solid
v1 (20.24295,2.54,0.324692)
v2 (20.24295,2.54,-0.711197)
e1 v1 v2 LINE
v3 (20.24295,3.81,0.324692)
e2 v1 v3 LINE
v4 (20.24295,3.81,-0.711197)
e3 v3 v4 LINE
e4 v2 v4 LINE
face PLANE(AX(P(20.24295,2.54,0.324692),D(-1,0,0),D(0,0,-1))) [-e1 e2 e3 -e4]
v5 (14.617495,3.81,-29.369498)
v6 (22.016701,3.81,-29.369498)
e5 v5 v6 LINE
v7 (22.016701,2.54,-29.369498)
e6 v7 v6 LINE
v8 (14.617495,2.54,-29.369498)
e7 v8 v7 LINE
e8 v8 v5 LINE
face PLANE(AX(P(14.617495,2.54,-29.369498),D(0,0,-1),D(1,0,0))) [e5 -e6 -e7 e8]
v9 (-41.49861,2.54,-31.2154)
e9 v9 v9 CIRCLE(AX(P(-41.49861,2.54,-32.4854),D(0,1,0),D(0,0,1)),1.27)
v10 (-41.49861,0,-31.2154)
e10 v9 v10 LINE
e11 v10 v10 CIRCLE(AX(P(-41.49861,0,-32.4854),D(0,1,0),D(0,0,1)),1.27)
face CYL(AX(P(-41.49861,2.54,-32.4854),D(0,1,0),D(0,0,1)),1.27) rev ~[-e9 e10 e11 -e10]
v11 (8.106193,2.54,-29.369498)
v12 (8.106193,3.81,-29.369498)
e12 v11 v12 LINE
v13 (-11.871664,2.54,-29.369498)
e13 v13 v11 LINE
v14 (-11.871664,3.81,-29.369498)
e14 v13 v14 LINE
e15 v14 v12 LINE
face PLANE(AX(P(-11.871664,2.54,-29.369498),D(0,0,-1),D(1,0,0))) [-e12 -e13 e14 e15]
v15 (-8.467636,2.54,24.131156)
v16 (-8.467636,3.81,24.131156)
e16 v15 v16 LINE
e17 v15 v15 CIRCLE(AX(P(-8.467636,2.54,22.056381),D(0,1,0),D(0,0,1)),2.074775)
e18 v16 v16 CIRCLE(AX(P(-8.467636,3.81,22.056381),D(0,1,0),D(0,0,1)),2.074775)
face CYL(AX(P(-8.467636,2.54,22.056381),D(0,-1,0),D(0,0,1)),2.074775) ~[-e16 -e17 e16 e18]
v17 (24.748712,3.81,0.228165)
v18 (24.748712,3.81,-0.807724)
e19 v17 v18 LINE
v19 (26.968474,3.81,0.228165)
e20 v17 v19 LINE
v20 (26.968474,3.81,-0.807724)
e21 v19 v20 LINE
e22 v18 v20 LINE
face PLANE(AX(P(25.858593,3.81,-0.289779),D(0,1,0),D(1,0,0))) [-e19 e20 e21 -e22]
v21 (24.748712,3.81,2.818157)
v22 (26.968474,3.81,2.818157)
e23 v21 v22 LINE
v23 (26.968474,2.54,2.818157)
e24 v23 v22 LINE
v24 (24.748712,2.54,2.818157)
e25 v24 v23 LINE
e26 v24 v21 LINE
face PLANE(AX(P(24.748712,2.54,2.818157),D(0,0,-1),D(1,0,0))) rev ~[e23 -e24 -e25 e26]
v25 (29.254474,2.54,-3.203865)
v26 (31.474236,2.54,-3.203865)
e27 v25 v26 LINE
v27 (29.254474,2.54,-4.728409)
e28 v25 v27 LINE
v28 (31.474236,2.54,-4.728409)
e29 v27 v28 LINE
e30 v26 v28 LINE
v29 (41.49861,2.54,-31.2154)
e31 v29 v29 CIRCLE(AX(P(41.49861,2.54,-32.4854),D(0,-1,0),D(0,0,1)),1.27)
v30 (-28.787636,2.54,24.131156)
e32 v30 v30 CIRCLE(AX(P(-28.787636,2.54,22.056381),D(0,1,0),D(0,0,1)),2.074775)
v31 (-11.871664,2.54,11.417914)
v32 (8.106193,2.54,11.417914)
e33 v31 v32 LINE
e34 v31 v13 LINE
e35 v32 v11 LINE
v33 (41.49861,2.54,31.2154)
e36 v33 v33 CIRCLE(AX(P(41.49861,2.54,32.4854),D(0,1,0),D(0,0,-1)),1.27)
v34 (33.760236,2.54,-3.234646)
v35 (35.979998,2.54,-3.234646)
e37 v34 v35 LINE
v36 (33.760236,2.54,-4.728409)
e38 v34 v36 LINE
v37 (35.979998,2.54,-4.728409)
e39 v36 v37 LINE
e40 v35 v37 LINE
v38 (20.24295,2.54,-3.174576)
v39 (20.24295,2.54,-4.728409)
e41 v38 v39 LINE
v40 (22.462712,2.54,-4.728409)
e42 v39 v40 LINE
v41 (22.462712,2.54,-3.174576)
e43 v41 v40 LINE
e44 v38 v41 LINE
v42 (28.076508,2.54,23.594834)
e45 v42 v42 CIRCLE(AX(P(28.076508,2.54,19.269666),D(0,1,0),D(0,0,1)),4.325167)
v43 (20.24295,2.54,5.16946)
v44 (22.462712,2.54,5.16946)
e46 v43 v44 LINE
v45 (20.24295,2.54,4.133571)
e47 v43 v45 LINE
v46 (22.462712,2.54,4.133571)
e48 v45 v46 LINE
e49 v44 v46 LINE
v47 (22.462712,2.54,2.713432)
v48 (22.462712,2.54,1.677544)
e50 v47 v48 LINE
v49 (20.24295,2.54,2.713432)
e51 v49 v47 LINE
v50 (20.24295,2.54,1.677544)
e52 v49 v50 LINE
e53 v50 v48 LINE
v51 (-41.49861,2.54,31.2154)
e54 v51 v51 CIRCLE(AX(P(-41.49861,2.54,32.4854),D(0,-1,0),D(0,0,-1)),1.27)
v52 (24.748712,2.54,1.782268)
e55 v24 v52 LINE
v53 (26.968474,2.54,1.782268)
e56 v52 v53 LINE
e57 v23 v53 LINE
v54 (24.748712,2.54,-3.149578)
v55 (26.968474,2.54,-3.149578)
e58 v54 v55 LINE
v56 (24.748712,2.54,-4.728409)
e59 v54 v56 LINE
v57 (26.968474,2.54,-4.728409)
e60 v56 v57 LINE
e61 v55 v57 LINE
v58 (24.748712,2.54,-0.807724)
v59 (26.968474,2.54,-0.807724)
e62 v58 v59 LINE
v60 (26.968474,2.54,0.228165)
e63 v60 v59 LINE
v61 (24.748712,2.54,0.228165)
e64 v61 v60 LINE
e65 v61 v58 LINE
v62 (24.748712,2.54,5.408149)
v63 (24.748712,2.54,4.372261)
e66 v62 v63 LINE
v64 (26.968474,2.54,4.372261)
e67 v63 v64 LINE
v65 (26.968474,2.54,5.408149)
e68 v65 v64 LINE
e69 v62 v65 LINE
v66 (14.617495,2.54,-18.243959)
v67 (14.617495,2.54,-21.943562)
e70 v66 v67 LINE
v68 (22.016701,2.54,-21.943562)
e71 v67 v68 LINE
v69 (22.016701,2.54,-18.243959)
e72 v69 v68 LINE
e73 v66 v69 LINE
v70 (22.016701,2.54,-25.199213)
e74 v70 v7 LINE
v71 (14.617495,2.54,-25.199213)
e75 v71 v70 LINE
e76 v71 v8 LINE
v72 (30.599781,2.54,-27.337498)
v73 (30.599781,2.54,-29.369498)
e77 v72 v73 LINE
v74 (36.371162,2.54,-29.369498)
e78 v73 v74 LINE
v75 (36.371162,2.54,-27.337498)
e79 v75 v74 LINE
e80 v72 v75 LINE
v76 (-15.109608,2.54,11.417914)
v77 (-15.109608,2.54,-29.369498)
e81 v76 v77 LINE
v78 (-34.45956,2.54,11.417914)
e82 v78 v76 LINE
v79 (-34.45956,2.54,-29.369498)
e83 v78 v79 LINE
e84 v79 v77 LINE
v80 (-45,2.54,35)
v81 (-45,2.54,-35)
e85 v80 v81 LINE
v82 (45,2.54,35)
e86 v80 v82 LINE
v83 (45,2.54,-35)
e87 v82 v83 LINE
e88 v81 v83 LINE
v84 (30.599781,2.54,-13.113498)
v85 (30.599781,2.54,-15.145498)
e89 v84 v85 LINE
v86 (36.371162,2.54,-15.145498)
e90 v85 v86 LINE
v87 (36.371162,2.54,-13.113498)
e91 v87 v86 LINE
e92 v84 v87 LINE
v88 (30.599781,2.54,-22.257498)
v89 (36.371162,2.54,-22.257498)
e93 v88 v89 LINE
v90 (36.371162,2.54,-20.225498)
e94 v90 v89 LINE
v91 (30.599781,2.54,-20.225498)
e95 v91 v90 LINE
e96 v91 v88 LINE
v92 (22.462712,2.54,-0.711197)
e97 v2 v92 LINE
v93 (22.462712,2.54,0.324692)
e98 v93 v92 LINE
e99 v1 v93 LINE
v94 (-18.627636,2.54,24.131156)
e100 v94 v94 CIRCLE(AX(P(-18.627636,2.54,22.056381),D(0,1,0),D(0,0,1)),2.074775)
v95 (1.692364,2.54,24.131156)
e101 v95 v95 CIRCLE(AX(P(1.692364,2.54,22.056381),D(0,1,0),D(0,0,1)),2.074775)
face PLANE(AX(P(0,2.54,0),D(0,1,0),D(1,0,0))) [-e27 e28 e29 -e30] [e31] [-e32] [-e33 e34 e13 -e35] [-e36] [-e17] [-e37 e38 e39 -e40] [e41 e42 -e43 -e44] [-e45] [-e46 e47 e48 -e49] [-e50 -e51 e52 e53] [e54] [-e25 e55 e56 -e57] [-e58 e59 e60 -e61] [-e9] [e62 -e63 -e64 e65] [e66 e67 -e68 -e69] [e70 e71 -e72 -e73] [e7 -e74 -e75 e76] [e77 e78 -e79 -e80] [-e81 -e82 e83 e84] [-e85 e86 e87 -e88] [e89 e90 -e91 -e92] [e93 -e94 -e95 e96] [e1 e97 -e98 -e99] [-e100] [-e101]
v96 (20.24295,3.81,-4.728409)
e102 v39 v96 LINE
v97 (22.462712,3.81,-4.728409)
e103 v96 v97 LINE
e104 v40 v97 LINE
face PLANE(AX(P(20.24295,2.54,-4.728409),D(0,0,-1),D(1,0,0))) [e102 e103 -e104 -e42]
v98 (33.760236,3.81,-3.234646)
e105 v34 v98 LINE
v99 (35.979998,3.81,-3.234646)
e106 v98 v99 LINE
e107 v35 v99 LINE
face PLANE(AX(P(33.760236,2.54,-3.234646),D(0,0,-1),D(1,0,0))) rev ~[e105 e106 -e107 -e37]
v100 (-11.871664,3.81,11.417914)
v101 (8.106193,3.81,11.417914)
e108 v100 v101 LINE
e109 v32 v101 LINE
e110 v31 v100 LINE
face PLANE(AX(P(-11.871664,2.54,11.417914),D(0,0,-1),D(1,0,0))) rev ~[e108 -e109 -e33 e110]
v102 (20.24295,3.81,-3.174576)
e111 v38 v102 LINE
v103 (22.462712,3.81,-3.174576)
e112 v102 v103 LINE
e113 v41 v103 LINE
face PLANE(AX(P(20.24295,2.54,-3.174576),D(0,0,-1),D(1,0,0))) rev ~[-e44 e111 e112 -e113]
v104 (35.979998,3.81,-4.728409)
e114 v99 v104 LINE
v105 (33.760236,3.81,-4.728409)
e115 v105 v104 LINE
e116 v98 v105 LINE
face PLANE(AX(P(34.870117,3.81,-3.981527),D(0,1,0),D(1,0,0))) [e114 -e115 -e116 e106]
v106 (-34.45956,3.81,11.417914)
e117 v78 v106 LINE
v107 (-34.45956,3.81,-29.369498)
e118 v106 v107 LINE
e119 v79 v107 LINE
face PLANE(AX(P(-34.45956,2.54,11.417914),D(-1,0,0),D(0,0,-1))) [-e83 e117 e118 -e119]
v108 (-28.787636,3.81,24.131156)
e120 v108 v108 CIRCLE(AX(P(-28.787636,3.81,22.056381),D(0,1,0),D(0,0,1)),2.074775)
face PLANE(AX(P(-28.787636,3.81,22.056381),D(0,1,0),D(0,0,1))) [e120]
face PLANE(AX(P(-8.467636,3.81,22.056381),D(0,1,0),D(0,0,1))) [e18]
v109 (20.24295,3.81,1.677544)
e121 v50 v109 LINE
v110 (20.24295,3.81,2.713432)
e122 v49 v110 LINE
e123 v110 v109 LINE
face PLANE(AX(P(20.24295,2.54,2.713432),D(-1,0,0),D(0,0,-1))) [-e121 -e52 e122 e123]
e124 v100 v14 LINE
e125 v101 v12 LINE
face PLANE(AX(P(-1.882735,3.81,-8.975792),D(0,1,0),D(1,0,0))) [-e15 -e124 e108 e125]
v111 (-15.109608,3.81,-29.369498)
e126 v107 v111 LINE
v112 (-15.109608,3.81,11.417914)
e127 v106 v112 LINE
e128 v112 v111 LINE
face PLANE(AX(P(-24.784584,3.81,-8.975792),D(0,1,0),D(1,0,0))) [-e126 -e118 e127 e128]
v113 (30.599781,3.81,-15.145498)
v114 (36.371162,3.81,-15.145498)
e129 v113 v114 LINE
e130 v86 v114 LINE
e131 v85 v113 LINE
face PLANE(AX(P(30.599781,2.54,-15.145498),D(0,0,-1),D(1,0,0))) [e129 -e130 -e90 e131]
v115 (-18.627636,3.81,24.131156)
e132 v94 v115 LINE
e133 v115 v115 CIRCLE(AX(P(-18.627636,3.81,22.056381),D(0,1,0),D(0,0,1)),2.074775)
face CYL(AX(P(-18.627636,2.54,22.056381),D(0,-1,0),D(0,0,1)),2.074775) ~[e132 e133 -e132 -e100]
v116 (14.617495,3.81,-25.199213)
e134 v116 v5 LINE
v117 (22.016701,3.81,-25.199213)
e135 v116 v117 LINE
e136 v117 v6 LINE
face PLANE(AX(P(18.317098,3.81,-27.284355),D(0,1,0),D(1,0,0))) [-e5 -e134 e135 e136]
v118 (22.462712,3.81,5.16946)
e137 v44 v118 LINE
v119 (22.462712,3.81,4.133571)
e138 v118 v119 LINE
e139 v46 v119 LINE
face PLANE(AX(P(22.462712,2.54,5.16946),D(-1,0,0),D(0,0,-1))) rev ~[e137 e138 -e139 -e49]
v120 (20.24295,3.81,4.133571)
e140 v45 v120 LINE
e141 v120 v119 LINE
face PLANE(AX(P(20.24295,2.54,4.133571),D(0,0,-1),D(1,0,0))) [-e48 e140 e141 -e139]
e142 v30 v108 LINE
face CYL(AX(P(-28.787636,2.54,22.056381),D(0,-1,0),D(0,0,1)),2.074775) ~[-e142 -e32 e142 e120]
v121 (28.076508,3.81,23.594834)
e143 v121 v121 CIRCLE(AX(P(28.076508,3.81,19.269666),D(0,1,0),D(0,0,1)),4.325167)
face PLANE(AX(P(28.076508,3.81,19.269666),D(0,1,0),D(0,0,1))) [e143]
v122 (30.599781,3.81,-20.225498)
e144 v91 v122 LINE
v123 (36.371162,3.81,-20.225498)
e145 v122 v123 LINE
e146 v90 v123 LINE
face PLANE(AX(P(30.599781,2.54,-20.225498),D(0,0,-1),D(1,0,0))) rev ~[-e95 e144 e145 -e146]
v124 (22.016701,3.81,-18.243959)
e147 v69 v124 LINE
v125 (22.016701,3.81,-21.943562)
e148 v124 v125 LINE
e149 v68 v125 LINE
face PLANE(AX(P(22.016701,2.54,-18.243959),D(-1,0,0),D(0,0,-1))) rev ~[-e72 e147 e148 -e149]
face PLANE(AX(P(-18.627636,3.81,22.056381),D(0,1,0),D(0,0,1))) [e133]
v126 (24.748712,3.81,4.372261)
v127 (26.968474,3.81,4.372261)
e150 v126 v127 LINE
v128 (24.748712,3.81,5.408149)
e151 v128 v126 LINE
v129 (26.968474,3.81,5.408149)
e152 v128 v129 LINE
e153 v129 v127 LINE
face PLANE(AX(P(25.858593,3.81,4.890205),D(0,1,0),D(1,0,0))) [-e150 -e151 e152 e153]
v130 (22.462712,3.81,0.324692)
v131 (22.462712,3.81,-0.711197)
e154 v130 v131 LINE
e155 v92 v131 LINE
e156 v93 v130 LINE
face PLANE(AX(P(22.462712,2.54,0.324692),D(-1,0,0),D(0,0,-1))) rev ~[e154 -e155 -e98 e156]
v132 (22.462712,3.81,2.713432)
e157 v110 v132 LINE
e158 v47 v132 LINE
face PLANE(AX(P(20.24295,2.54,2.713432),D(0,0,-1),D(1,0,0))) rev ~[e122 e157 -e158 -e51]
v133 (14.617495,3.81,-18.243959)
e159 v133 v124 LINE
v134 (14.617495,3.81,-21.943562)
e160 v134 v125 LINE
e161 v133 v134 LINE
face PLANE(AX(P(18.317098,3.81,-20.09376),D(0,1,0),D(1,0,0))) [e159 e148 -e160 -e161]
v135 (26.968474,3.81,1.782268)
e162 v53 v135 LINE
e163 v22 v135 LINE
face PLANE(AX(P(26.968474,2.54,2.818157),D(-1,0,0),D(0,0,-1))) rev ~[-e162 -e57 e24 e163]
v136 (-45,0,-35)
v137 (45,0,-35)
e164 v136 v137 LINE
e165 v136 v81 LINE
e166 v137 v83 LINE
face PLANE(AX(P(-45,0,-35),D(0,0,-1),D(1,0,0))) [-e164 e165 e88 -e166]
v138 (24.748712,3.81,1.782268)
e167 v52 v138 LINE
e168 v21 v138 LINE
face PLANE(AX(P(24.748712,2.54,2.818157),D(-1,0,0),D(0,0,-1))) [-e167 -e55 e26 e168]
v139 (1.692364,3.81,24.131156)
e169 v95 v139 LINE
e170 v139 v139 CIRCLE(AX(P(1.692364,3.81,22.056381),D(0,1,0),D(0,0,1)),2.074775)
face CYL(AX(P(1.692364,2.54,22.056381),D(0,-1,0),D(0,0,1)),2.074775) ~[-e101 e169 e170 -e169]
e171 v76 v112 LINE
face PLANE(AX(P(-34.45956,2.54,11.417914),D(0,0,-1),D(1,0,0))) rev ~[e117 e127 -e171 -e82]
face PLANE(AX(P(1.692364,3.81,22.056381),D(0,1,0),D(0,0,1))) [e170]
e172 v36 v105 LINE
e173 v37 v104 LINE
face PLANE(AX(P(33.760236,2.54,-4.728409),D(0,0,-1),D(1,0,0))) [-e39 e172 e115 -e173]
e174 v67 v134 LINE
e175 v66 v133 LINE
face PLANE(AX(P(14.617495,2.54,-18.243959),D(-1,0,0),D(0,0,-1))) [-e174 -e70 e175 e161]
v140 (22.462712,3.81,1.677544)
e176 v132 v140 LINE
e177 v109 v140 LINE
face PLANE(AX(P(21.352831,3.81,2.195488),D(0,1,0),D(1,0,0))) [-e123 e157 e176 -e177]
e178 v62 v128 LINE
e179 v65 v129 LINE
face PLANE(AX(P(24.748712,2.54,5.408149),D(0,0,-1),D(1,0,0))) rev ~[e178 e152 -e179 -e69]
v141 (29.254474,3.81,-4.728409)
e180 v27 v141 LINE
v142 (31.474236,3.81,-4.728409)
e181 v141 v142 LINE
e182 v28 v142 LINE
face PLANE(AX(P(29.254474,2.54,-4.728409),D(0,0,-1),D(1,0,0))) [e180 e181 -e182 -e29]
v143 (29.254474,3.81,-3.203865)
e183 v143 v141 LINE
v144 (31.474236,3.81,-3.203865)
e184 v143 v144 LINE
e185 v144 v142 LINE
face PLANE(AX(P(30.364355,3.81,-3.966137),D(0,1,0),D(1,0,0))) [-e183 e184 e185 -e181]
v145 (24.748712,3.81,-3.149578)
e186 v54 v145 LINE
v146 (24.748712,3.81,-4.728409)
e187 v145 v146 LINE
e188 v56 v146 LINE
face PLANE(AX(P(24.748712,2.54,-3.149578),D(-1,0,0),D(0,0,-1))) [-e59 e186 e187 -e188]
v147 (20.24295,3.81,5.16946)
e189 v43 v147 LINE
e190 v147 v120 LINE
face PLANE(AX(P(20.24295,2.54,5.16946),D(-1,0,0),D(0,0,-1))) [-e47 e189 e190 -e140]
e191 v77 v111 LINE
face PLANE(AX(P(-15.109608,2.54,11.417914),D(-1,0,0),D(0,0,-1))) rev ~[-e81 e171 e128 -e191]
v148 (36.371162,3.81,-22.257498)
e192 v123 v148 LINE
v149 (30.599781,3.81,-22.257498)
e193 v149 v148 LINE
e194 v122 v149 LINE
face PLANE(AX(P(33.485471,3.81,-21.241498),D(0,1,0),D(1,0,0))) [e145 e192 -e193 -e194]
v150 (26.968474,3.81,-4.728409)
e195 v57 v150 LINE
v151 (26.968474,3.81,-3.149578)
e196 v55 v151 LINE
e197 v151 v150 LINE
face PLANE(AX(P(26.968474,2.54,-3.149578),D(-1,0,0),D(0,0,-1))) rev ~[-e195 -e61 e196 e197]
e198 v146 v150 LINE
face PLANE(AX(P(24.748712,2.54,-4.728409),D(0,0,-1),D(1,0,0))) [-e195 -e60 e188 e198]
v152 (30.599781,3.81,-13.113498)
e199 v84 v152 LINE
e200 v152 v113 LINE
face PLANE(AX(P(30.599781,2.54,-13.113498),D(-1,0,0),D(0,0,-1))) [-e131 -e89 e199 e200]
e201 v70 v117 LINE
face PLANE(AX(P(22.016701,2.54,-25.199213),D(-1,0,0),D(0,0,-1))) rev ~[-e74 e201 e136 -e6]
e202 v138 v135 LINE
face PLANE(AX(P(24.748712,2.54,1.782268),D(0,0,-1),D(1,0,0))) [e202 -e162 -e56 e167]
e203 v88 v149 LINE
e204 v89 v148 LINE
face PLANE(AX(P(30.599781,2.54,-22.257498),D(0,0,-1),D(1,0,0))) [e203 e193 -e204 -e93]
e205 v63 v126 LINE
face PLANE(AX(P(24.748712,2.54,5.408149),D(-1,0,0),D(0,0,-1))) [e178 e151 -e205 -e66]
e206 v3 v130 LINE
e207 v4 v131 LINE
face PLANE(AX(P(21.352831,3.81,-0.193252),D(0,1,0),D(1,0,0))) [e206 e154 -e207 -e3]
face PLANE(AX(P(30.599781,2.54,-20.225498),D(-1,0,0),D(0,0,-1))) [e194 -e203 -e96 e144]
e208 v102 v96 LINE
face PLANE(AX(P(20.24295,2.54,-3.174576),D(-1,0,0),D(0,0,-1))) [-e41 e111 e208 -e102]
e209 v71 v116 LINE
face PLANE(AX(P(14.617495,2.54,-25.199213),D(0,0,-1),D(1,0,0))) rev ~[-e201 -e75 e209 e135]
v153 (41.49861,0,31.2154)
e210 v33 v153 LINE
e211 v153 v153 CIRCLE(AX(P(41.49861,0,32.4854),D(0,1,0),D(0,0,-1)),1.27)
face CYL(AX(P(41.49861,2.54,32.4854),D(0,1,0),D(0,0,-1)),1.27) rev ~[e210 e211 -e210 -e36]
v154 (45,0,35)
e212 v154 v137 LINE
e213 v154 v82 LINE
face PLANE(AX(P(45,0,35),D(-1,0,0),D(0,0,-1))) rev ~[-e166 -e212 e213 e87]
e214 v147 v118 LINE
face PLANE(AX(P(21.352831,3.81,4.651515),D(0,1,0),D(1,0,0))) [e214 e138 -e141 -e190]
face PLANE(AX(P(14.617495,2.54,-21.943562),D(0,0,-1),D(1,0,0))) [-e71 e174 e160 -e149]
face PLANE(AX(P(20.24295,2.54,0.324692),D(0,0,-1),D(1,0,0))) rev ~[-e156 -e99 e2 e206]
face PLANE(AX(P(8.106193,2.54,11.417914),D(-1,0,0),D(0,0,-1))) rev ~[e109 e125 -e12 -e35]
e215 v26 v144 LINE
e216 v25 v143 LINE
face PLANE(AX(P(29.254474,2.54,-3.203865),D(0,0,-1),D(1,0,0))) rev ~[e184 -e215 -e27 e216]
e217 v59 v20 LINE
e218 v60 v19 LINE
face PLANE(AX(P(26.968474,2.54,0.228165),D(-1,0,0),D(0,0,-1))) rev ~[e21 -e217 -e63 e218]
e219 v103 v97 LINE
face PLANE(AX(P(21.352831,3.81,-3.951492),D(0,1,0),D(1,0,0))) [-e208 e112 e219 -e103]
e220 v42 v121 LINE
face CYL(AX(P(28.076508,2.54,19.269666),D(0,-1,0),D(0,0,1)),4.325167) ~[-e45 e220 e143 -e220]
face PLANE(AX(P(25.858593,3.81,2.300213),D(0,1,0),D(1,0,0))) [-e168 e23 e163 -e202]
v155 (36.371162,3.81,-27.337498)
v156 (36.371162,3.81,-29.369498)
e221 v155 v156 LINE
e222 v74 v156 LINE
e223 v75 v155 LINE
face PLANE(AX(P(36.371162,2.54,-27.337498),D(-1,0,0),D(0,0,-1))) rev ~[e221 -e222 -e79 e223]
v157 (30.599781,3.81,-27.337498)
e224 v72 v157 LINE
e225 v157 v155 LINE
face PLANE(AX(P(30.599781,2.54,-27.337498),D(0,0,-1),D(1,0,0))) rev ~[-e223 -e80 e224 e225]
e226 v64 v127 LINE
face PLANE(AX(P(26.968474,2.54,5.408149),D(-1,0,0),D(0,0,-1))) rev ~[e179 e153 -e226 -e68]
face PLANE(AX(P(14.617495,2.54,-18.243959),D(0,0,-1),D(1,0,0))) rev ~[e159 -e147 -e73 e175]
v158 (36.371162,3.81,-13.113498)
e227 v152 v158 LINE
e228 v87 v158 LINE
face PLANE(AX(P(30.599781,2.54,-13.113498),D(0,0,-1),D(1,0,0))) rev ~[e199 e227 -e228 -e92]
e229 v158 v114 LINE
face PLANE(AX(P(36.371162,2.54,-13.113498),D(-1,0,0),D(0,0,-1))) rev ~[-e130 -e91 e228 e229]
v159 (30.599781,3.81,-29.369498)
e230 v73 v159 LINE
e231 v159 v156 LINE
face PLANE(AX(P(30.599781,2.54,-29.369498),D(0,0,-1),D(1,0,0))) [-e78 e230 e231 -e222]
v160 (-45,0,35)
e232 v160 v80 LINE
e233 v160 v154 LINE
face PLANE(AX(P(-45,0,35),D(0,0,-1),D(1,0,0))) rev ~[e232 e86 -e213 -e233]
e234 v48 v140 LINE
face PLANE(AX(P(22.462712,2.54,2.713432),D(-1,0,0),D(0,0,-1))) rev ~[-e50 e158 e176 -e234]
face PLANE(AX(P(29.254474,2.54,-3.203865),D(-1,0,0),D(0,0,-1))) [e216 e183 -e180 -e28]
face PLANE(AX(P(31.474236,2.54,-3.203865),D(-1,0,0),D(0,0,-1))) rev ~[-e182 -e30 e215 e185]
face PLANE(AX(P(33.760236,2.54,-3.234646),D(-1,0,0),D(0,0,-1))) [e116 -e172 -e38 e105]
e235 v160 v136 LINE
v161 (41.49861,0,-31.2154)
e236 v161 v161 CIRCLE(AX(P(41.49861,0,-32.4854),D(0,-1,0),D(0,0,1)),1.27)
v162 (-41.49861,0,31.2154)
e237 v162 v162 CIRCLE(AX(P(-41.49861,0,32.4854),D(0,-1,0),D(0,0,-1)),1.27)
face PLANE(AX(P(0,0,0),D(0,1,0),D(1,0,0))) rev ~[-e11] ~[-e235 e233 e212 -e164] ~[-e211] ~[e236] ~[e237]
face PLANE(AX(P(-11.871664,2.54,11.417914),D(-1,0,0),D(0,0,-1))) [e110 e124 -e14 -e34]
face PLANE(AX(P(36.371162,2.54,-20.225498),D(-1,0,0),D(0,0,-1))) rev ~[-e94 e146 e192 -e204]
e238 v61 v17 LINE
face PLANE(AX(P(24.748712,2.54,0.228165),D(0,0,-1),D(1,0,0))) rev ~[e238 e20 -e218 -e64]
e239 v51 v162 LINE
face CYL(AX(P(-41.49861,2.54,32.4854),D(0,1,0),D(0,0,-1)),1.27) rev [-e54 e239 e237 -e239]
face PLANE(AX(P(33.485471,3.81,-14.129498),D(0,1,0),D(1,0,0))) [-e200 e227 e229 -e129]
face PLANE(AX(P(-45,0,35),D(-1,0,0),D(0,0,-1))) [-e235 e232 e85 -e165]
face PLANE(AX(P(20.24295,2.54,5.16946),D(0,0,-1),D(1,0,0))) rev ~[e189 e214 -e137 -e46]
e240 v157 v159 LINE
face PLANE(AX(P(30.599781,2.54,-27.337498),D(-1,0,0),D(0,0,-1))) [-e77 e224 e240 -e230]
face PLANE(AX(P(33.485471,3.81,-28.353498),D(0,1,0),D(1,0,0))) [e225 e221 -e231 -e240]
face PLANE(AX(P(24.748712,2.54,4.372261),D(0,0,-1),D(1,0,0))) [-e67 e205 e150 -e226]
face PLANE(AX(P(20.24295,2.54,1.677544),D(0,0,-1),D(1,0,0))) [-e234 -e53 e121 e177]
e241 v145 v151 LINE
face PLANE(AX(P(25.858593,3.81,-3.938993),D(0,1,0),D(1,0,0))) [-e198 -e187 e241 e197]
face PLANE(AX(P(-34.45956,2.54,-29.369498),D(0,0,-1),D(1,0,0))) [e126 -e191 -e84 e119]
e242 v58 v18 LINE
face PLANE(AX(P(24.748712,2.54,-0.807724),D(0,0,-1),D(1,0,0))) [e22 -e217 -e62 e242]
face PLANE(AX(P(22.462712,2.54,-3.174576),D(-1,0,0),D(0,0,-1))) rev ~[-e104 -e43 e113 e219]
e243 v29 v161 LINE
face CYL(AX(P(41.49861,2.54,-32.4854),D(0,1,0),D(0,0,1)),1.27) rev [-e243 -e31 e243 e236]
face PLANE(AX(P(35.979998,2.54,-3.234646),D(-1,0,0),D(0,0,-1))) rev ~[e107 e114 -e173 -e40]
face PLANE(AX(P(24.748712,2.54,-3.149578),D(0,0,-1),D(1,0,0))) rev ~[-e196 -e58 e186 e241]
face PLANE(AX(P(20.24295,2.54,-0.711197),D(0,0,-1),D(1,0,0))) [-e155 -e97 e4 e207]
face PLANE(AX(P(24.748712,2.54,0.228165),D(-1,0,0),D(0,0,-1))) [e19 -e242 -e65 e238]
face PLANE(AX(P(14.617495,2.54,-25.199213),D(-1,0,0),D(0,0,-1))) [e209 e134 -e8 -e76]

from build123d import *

# Parameters (mm, degrees)
SKETCH1_W               = 90
SKETCH1_H               = 70
BOSS_EXTRUDE1_DEPTH     = 2.54
SKETCH2_R               = 2.074775273
SKETCH2_R_2             = 4.325167344
SKETCH2_W               = 2.219761911
SKETCH2_H               = 1.524543627
SKETCH2_W_2             = 19.349952437
SKETCH2_H_2             = 40.787411984
SKETCH2_W_3             = 19.977857201
SKETCH2_W_4             = 7.399206371
SKETCH2_H_3             = 4.17028531
SKETCH2_H_4             = 3.699603186
SKETCH2_W_5             = 5.771380969
SKETCH2_H_5             = 2.032
SKETCH2_H_6             = 1.035888892
SKETCH2_W_6             = 2.219761912
SKETCH2_H_7             = 1.578831572
SKETCH2_H_8             = 1.553833338
SKETCH2_H_9             = 1.493763587
BOSS_EXTRUDE2_DEPTH     = 1.27
SKETCH3_R               = 1.27
CUT_EXTRUDE1_DEPTH      = 2.54
MIRROR2_COPY_1_SKETCH_R = 1.27
MIRROR2_COPY_1_DEPTH    = 2.54


with BuildPart() as part:
    # Sketch1 → Boss-Extrude1 (new body)
    with BuildSketch(Plane(origin=(0, 0, 0), x_dir=(1, 0, 0), z_dir=(0, 1, 0))):
        Rectangle(SKETCH1_W, SKETCH1_H)
    extrude(amount=BOSS_EXTRUDE1_DEPTH)

    # Sketch2 → Boss-Extrude2 (add)
    with BuildSketch(Plane(origin=(0, 2.54, 0), x_dir=(1, 0, 0), z_dir=(0, 1, 0))):
        with Locations(Location((-28.787636227, -22.056380876, 0), (0, 0, 270))):
            Circle(SKETCH2_R)
        with Locations(Location((-18.627636227, -22.056380876, 0), (0, 0, 270))):
            Circle(SKETCH2_R)
        with Locations(Location((-8.467636227, -22.056380876, 0), (0, 0, 270))):
            Circle(SKETCH2_R)
        with Locations(Location((1.692363773, -22.056380876, 0), (0, 0, 270))):
            Circle(SKETCH2_R)
        with Locations(Location((28.076508074, -19.269666276, 0), (0, 0, 270))):
            Circle(SKETCH2_R_2)
        with Locations((30.364354819, 3.966137277)):
            Rectangle(SKETCH2_W, SKETCH2_H)
        with Locations((-24.784583824, 8.975791822)):
            Rectangle(SKETCH2_W_2, SKETCH2_H_2)
        with Locations((-1.882735108, 8.975791822)):
            Rectangle(SKETCH2_W_3, SKETCH2_H_2)
        with Locations((18.317098286, 27.284355159)):
            Rectangle(SKETCH2_W_4, SKETCH2_H_3)
        with Locations((18.317098286, 20.093760108)):
            Rectangle(SKETCH2_W_4, SKETCH2_H_4)
        with Locations((33.485471346, 28.353497814)):
            Rectangle(SKETCH2_W_5, SKETCH2_H_5)
        with Locations((33.485471346, 21.241497814)):
            Rectangle(SKETCH2_W_5, SKETCH2_H_5)
        with Locations((33.485471346, 14.129497814)):
            Rectangle(SKETCH2_W_5, SKETCH2_H_5)
        with Locations((21.352830995, 0.193252065)):
            Rectangle(SKETCH2_W, SKETCH2_H_6)
        with Locations((25.858592907, 3.938993304)):
            Rectangle(SKETCH2_W_6, SKETCH2_H_7)
        with Locations((21.352830995, 3.951492421)):
            Rectangle(SKETCH2_W, SKETCH2_H_8)
        with Locations((34.870116729, 3.981527297)):
            Rectangle(SKETCH2_W, SKETCH2_H_9)
        with Locations((21.352830995, -2.195488046)):
            Rectangle(SKETCH2_W, SKETCH2_H_6)
        with Locations((21.352830995, -4.651515111)):
            Rectangle(SKETCH2_W, SKETCH2_H_6)
        with Locations((25.858592907, 0.289779343)):
            Rectangle(SKETCH2_W_6, SKETCH2_H_6)
        with Locations((25.858592907, -2.300212834)):
            Rectangle(SKETCH2_W_6, SKETCH2_H_6)
        with Locations((25.858592907, -4.890205011)):
            Rectangle(SKETCH2_W_6, SKETCH2_H_6)
    extrude(amount=BOSS_EXTRUDE2_DEPTH)

    # Sketch3 → Cut-Extrude1 (cut)
    with BuildSketch(Plane(origin=(0, 2.54, 0), x_dir=(1, 0, 0), z_dir=(0, 1, 0))):
        with Locations(Location((-41.49861, 32.4854, 0), (0, 0, 270))):
            Circle(SKETCH3_R)
    cut_extrude1 = extrude(amount=-CUT_EXTRUDE1_DEPTH, mode=Mode.SUBTRACT)

    # Mirror1: Cut-Extrude1 across plane
    add(cut_extrude1.mirror(Plane(origin=(0, 0, 0), x_dir=(1, 0, 0), z_dir=(0, 0, -1))), mode=Mode.SUBTRACT)

    # Mirror2: Cut-Extrude1 across plane
    add(cut_extrude1.mirror(Plane.ZY), mode=Mode.SUBTRACT)

    # Mirror2 copy 1 sketch → Mirror2 copy 1 (cut)
    with BuildSketch(Plane(origin=(0, 2.54, 0), x_dir=(-1, 0, 0), z_dir=(0, 1, 0))):
        with Locations(Location((-41.49861, 32.4854, 0), (0, 0, 270))):
            Circle(MIRROR2_COPY_1_SKETCH_R)
    extrude(amount=-MIRROR2_COPY_1_DEPTH, mode=Mode.SUBTRACT)


solid = part.part
